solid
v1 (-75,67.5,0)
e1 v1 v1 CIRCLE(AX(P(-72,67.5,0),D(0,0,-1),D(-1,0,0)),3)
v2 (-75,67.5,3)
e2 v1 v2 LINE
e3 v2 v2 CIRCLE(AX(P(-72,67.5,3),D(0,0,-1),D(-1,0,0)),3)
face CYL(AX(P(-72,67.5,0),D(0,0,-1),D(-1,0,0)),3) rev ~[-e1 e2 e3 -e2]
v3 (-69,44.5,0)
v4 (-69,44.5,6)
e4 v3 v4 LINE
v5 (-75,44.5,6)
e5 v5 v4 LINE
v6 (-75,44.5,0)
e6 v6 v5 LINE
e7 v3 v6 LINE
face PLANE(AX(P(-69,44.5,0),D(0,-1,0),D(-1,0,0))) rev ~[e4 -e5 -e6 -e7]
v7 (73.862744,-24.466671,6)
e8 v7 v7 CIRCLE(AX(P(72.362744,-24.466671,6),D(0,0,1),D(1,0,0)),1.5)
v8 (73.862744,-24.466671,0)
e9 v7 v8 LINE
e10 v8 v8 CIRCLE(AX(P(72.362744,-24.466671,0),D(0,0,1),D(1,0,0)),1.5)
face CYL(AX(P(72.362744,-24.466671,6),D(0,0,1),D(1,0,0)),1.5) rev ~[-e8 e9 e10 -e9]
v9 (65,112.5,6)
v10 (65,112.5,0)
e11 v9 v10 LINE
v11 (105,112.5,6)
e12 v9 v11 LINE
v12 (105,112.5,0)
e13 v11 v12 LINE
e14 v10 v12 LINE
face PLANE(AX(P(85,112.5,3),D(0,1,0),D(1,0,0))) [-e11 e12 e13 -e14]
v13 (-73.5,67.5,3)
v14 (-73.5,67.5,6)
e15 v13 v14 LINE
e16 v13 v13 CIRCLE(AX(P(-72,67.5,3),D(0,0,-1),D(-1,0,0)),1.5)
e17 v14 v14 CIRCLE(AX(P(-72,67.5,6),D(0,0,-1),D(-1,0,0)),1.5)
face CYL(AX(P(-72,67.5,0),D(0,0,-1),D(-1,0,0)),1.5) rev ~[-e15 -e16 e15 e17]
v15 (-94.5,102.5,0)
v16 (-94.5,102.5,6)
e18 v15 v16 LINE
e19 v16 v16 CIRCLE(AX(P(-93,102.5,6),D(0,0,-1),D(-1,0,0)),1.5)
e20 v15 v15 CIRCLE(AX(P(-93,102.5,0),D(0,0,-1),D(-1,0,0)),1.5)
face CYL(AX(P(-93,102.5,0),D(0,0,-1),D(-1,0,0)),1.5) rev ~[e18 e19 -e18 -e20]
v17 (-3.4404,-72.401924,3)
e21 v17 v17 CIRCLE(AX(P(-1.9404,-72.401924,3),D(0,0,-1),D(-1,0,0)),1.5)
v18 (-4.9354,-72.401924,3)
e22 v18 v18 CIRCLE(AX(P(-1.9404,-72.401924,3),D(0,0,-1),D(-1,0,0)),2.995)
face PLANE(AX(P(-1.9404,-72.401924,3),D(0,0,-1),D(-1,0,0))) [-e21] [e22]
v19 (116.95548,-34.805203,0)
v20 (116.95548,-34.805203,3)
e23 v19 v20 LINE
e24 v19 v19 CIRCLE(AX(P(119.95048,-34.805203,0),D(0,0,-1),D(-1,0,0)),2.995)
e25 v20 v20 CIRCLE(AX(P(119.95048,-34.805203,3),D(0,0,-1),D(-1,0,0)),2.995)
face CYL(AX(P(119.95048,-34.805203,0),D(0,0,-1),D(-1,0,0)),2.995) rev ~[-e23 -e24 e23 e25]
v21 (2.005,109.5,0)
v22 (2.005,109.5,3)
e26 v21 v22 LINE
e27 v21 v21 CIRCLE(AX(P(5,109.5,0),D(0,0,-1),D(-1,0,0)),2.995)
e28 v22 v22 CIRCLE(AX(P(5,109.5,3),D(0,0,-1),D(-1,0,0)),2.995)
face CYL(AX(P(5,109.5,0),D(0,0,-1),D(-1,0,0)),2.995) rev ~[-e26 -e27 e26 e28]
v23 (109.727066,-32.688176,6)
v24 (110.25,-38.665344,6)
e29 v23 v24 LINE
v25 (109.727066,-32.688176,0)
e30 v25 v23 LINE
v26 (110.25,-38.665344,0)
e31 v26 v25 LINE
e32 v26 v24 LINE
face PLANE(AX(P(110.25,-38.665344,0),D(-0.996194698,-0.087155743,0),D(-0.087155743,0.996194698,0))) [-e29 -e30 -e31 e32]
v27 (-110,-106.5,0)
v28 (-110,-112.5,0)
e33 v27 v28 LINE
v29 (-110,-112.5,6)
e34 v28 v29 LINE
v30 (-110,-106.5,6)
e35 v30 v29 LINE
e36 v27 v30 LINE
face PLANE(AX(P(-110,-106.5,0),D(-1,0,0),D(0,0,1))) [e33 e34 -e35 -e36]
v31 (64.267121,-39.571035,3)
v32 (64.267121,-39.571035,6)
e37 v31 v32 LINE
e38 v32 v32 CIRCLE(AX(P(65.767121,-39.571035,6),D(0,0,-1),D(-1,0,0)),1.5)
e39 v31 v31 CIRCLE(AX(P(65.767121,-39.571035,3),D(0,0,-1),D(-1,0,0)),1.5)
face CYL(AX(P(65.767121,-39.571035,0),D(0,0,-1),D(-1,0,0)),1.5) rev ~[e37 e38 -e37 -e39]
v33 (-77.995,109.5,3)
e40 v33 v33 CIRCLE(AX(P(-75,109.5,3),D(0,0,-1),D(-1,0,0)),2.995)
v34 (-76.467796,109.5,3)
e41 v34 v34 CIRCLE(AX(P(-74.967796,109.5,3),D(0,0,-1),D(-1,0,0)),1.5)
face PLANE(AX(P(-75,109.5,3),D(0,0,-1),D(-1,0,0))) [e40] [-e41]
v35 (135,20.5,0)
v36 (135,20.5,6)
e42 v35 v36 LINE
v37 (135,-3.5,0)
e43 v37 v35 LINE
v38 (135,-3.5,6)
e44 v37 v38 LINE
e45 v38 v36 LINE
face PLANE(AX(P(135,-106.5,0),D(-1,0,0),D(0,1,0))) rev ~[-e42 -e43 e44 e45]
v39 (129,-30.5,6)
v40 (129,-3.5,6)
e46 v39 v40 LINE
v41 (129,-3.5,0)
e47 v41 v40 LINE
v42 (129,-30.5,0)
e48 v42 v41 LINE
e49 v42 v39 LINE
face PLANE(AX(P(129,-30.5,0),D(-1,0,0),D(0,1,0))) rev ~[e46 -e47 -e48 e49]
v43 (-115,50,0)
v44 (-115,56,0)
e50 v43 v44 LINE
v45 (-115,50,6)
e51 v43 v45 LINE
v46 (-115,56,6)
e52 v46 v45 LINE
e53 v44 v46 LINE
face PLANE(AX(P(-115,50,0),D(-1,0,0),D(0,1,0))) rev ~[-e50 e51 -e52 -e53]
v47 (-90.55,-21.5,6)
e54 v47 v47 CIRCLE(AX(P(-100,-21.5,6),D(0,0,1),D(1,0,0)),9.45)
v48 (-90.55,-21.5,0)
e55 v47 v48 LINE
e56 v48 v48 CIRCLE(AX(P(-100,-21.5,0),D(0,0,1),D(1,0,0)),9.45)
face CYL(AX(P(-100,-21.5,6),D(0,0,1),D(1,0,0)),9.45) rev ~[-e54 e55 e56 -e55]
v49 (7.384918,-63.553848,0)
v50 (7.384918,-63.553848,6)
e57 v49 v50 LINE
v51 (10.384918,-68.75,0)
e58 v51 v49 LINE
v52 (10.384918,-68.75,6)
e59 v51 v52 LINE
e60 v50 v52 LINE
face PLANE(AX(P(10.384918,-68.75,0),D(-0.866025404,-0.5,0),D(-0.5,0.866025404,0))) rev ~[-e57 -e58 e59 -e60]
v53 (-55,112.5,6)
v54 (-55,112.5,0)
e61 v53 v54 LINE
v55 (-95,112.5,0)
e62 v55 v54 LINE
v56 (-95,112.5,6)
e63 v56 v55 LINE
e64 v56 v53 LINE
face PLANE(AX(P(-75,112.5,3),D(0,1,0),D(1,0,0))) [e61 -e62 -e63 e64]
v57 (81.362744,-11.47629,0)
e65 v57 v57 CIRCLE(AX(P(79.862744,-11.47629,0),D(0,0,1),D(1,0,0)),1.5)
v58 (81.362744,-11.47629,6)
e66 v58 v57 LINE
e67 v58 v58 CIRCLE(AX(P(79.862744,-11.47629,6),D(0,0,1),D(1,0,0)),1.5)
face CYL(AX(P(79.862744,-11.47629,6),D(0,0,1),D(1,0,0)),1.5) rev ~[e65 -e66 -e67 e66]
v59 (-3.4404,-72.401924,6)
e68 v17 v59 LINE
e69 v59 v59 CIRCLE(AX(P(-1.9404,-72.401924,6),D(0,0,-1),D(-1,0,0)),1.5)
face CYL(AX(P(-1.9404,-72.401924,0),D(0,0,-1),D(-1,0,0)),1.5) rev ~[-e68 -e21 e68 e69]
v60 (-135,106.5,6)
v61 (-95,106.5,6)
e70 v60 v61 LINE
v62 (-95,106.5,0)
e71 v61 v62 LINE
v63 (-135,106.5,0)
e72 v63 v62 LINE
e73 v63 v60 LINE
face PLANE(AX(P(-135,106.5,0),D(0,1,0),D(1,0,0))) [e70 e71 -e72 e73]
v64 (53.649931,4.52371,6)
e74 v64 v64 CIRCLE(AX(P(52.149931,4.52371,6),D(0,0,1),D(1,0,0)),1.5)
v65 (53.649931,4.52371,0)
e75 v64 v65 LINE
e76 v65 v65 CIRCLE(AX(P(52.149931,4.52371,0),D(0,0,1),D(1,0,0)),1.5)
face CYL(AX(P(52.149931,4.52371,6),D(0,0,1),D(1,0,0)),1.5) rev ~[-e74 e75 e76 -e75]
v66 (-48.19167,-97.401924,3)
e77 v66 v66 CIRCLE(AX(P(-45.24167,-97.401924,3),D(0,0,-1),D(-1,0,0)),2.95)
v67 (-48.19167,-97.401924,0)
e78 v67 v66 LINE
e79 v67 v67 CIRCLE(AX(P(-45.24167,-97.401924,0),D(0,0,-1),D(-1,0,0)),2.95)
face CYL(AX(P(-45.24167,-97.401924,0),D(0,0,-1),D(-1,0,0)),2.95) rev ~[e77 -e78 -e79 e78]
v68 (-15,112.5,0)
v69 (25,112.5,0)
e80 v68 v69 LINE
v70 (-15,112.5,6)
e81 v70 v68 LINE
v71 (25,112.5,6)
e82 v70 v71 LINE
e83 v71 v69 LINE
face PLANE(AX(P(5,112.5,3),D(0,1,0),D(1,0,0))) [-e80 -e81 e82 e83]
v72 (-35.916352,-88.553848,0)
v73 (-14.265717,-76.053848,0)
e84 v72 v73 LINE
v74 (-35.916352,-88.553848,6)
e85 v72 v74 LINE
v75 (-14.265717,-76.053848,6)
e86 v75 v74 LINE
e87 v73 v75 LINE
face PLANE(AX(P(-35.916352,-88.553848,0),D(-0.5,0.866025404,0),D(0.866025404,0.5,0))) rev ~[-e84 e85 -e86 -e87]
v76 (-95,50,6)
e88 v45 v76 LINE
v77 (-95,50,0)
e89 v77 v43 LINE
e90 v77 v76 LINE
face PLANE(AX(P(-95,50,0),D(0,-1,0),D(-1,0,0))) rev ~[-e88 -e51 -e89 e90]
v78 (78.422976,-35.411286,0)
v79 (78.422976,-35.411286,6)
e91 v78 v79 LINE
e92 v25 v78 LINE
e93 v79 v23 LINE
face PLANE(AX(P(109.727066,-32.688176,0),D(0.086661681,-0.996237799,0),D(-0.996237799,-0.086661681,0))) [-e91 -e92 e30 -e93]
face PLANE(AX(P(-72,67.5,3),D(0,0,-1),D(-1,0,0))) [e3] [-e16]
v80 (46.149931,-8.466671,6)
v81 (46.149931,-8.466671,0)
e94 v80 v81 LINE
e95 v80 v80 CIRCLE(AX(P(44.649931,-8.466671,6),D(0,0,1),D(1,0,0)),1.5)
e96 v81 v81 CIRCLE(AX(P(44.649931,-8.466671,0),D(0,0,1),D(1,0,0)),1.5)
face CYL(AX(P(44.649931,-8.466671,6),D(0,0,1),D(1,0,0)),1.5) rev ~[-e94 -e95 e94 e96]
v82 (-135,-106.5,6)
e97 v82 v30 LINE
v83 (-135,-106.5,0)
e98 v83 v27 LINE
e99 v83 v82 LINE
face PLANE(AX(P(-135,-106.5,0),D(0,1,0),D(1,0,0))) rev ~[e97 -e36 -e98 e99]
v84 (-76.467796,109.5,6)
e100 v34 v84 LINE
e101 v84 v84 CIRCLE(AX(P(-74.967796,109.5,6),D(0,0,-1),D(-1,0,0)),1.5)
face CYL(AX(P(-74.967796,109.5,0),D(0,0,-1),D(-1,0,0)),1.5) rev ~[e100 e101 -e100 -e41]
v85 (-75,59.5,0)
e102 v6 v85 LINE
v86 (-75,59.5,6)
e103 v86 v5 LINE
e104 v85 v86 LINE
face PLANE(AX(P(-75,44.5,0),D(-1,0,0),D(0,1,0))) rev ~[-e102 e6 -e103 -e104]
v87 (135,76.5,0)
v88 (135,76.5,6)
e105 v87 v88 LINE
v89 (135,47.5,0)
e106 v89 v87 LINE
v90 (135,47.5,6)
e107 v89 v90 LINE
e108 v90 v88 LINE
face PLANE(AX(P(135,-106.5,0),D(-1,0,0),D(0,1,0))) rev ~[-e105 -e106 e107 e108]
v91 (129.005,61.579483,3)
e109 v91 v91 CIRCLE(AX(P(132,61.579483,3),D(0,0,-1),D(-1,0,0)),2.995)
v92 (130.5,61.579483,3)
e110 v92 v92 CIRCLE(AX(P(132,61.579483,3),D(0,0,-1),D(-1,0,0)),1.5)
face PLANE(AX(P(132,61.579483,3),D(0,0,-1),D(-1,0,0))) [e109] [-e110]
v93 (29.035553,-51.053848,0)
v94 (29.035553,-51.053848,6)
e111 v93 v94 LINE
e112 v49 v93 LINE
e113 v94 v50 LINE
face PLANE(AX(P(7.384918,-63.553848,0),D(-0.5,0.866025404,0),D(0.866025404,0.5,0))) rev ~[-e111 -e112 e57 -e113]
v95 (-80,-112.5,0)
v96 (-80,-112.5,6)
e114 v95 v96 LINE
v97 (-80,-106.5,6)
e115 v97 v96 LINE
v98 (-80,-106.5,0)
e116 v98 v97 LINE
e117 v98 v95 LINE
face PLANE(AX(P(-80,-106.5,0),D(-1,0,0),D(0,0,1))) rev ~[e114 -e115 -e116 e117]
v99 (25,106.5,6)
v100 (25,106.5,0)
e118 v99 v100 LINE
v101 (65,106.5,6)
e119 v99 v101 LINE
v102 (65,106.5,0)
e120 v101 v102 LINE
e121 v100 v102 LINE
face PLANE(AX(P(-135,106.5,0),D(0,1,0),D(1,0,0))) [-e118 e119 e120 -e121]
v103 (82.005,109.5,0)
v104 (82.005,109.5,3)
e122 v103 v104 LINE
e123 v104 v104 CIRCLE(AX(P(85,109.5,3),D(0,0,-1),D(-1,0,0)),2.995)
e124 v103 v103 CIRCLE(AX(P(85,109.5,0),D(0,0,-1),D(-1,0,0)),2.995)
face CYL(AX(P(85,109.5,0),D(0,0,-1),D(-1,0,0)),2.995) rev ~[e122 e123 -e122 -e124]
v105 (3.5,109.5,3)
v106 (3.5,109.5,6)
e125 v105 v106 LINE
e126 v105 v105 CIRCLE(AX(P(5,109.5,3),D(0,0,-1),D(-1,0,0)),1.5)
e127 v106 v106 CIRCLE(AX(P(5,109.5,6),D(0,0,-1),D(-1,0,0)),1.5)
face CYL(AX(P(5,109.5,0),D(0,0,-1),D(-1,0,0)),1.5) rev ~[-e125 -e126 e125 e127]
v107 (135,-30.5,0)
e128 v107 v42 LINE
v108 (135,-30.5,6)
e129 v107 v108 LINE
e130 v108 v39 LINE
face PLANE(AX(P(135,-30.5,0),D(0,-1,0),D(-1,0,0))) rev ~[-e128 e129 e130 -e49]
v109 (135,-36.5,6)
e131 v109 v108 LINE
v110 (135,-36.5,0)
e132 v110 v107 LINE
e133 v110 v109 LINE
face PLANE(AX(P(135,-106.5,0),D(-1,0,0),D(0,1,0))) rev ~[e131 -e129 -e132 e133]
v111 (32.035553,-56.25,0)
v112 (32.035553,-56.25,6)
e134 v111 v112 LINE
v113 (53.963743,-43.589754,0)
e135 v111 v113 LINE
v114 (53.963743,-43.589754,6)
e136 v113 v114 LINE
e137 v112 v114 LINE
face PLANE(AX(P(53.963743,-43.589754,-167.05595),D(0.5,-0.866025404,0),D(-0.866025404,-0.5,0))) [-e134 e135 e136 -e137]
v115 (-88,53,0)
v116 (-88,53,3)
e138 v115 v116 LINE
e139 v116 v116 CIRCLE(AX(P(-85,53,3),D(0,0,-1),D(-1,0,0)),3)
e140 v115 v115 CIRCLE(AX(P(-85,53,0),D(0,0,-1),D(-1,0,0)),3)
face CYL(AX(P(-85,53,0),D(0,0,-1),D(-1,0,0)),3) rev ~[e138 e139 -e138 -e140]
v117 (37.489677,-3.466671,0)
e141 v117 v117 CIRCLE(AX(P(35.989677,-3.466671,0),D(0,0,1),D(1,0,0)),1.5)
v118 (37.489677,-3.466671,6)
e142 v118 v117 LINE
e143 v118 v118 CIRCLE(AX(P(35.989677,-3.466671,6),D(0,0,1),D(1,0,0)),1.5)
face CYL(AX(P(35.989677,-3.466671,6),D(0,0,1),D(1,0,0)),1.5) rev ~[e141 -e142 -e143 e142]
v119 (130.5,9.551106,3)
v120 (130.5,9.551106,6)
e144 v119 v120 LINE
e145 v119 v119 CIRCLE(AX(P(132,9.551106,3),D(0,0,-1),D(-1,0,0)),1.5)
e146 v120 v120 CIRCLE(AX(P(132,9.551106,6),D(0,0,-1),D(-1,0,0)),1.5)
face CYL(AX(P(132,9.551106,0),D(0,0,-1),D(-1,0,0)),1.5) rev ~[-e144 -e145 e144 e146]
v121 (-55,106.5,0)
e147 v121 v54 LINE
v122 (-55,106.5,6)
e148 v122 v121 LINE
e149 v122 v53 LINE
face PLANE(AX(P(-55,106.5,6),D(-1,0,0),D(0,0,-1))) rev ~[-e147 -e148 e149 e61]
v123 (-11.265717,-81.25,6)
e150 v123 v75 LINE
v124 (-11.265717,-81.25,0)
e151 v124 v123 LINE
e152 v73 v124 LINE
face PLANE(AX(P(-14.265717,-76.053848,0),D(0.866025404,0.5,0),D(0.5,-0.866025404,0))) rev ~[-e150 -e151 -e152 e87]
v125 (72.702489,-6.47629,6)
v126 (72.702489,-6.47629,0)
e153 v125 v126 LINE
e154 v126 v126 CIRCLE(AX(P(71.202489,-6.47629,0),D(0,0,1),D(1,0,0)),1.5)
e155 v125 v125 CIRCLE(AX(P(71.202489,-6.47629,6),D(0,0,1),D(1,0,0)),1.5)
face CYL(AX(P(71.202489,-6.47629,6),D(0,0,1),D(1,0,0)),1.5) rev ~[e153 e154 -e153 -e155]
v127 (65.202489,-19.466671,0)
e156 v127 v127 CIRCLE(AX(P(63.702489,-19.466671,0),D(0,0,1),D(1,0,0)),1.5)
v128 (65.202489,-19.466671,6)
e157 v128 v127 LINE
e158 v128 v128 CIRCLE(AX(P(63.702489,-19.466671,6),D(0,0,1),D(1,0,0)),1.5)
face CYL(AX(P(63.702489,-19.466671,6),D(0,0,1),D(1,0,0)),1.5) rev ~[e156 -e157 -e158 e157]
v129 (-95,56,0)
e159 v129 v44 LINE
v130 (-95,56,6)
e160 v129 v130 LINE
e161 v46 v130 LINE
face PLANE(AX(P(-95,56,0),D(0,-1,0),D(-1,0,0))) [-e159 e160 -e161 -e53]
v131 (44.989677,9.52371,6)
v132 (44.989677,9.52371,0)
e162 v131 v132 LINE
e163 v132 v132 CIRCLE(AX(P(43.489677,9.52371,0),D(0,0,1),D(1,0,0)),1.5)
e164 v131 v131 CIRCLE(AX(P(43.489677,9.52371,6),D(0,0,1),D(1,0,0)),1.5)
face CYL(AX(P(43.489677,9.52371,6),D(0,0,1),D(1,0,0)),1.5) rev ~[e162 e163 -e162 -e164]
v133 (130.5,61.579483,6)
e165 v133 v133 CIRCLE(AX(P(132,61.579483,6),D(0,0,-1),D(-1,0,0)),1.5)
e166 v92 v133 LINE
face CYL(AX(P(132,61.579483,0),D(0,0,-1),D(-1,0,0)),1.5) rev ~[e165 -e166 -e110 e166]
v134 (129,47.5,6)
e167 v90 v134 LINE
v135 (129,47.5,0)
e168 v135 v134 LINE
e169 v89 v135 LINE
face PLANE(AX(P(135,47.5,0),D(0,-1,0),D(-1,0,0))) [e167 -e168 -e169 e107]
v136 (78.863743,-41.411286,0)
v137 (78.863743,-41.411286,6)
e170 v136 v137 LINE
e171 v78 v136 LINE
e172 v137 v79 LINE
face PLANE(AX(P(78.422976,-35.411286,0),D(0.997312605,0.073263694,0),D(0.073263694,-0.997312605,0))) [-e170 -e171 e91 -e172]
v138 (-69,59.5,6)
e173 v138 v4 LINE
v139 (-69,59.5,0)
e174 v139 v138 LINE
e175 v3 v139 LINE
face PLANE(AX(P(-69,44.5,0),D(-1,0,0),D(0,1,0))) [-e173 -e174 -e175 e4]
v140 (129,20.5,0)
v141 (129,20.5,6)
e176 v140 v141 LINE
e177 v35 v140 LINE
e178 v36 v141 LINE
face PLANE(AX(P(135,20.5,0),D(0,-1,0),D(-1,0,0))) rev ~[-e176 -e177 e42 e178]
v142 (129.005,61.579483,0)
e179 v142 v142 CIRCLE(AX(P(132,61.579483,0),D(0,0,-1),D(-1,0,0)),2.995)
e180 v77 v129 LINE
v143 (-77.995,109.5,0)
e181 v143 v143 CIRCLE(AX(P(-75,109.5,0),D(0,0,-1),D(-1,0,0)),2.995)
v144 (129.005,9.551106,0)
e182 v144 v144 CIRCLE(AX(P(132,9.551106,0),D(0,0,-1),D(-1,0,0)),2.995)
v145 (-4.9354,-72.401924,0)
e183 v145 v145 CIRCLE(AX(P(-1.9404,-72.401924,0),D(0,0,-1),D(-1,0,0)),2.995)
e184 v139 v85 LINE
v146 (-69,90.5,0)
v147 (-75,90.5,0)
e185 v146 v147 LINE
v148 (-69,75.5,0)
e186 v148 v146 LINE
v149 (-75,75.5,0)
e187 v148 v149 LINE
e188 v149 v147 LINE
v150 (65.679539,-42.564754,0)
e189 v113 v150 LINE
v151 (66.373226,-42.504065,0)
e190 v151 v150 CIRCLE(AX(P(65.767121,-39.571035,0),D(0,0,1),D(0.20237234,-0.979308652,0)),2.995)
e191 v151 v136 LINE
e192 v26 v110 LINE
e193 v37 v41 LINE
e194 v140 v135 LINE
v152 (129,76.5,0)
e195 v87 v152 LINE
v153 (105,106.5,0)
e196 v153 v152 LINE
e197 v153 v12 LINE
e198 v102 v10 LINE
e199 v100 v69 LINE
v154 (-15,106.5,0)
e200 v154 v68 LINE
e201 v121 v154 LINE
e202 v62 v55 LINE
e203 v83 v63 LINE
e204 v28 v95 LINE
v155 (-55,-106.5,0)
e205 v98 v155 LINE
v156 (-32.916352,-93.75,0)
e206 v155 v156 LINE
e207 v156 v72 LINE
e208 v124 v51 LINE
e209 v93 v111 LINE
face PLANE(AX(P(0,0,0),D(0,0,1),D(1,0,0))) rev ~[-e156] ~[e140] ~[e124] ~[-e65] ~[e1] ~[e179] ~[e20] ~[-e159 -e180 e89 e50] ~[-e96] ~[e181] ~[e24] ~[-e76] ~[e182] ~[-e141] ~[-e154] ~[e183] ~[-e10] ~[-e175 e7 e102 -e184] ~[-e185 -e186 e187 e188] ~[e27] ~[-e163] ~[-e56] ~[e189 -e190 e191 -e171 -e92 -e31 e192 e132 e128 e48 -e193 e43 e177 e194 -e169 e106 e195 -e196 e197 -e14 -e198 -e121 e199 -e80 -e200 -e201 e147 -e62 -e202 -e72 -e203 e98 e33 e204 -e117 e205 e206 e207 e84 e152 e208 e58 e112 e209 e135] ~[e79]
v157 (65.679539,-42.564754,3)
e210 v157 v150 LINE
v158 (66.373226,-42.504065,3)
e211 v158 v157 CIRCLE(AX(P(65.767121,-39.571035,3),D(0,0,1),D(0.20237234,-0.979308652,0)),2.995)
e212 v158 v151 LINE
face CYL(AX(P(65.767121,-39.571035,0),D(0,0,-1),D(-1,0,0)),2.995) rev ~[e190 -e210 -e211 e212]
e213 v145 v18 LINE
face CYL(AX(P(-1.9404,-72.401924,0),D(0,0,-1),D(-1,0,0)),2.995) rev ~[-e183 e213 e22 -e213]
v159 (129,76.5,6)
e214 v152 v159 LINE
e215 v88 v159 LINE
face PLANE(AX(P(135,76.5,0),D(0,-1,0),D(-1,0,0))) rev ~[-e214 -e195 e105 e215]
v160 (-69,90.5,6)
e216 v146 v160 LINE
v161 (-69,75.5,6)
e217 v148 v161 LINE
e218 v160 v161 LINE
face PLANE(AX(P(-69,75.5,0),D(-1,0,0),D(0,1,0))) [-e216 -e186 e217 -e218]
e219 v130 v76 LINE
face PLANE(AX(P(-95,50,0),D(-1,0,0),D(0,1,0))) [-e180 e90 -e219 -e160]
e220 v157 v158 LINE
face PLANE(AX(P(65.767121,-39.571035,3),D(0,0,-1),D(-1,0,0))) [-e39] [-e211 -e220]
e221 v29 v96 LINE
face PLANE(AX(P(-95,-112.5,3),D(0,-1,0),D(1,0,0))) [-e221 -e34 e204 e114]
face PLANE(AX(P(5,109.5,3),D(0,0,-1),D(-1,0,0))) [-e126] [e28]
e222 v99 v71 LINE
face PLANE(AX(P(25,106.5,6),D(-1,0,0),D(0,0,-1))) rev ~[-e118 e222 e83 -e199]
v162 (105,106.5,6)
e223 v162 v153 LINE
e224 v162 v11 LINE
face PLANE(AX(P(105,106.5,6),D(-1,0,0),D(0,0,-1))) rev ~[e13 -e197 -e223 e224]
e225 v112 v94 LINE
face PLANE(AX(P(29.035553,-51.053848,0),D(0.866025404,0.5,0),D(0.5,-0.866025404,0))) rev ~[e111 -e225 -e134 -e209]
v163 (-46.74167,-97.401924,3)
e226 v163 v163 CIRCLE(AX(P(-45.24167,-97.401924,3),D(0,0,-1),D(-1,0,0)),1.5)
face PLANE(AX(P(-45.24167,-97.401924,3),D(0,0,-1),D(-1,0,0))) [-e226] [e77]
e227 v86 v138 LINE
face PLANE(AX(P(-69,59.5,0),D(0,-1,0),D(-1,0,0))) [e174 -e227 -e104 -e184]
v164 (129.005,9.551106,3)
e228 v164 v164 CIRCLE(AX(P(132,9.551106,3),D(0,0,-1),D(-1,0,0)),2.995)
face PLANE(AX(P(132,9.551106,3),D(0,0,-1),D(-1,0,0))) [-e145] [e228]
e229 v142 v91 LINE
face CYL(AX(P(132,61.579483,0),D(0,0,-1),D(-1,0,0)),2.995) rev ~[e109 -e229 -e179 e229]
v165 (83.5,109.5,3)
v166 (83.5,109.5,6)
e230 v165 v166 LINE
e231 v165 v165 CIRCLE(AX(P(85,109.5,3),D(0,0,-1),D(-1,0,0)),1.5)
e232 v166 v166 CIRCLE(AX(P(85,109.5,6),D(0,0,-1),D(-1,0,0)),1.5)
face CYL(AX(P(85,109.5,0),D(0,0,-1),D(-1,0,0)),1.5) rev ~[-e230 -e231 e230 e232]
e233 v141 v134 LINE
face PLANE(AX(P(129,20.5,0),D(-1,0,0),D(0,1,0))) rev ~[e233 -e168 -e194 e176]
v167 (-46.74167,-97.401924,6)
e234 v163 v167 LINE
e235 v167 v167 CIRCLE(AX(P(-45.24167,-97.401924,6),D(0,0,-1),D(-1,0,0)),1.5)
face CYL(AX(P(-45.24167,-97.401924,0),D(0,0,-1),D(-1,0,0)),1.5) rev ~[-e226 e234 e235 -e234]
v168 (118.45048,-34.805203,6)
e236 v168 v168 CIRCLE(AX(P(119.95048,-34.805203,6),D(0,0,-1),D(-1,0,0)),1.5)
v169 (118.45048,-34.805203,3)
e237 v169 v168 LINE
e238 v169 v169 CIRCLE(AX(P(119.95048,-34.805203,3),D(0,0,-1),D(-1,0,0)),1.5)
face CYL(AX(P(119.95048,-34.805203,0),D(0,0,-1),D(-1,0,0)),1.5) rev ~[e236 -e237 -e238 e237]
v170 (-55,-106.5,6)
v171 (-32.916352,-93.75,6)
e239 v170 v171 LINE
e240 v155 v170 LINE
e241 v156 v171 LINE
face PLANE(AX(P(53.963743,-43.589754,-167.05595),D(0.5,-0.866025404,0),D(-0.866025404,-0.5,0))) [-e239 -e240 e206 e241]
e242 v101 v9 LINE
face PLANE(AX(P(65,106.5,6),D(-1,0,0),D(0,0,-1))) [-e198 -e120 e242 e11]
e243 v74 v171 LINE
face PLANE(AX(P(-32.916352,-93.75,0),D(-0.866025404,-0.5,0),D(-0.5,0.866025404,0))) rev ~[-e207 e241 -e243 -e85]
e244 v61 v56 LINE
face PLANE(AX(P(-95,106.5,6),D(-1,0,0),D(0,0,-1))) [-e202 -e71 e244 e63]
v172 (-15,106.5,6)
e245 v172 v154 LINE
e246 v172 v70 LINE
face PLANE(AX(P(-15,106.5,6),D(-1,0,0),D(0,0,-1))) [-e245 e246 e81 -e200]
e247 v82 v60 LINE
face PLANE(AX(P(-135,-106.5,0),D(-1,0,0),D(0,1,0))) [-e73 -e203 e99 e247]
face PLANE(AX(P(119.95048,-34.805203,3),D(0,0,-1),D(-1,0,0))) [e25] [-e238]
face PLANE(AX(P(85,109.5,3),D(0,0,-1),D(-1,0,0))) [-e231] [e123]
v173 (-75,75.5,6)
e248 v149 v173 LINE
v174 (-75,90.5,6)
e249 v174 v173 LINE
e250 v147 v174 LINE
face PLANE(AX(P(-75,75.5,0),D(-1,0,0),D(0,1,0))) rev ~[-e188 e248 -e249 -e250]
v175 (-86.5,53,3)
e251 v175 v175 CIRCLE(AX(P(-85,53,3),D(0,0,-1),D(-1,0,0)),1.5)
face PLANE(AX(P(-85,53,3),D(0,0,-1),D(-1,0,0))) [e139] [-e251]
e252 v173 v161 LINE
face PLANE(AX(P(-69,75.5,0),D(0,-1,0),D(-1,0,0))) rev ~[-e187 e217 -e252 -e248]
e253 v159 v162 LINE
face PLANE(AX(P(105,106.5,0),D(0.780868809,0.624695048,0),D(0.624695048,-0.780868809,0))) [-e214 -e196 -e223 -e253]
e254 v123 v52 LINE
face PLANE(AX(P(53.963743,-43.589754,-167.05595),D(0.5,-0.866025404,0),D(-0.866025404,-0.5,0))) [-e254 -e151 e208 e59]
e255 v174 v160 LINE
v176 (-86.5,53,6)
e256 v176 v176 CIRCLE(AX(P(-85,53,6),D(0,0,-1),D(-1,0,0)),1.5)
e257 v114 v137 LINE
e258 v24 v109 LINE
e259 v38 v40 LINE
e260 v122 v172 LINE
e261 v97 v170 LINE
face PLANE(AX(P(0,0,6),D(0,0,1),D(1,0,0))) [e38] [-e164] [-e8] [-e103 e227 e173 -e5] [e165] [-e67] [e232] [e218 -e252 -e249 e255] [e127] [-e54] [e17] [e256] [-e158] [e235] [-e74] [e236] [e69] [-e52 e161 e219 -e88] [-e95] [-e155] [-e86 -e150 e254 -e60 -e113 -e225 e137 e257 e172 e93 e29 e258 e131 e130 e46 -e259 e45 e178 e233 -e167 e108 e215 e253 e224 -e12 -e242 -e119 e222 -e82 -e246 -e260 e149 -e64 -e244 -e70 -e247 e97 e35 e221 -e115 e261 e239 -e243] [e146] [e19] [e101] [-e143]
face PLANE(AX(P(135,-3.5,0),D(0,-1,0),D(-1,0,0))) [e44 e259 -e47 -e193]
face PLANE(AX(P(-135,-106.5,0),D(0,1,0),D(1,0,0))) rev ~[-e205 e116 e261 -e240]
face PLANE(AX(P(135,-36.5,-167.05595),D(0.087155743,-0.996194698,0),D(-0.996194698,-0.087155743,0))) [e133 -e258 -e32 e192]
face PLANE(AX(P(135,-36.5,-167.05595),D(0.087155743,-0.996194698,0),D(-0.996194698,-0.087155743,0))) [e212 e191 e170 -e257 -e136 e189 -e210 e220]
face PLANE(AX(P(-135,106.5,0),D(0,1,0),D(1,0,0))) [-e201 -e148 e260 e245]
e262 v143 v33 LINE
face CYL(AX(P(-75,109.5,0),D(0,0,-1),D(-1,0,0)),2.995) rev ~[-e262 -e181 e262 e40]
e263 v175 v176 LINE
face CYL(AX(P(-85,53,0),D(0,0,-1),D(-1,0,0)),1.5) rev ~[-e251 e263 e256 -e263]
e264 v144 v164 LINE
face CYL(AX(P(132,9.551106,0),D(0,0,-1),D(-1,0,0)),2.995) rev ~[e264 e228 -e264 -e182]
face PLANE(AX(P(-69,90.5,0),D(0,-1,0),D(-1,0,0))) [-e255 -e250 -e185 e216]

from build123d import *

# Parameters (mm, degrees)
ESQUISSE1_W                   = 270
ESQUISSE1_H                   = 213
BOSS_EXTRU_1_DEPTH            = 6
ESQUISSE3_R                   = 9.45
ESQUISSE3_R_2                 = 1.5
ENL_V_MAT_EXTRU_1_DEPTH       = 10
ENL_V_MAT_EXTRU_11_DEPTH      = 173.055950202
ENL_V_MAT_EXTRU_11_DEPTH_BACK = 173.055950202
ESQUISSE6_W                   = 40
ESQUISSE6_H                   = 6
BOSS_EXTRU_2_DEPTH            = 6
ESQUISSE7_W                   = 6
ESQUISSE7_H                   = 30
ESQUISSE7_H_2                 = 27
ENL_V_MAT_EXTRU_12_DEPTH      = 6
ESQUISSE8_W                   = 30
ESQUISSE8_H                   = 6
BOSS_EXTRU_3_DEPTH            = 6
ENL_V_MAT_EXTRU_13_DEPTH      = 176.833017377
ENL_V_MAT_EXTRU_14_DEPTH      = 10
ESQUISSE11_W                  = 6
ESQUISSE11_H                  = 15
ENL_V_MAT_EXTRU_15_DEPTH      = 176.833017377
ENL_V_MAT_EXTRU_17_DEPTH      = 176.833017377
ESQUISSE15_R                  = 2.995
ESQUISSE15_R_2                = 2.95
ESQUISSE15_R_3                = 3
ENL_V_MAT_EXTRU_19_DEPTH      = 3
ESQUISSE16_R                  = 1.5
ENL_V_MAT_EXTRU_20_DEPTH      = 10
ESQUISSE17_W                  = 20
ESQUISSE17_H                  = 6
ENL_V_MAT_EXTRU_22_DEPTH      = 10


with BuildPart() as part:
    # Esquisse1 → Boss.-Extru.1 (new body)
    with BuildSketch(Plane.XY):
        Rectangle(ESQUISSE1_W, ESQUISSE1_H)
    extrude(amount=BOSS_EXTRU_1_DEPTH)

    # Esquisse3 → Enlèv. mat.-Extru.1 (cut)
    with BuildSketch(Plane.XY.offset(6)):
        with Locations((-100, -21.5)):
            Circle(ESQUISSE3_R)
        with Locations((43.489676576, 9.523710062)):
            Circle(ESQUISSE3_R_2)
        with Locations((52.149930614, 4.523710062)):
            Circle(ESQUISSE3_R_2)
        with Locations((35.989676576, -3.466670994)):
            Circle(ESQUISSE3_R_2)
        with Locations((44.649930614, -8.466670994)):
            Circle(ESQUISSE3_R_2)
        with Locations((63.702489497, -19.466670994)):
            Circle(ESQUISSE3_R_2)
        with Locations((72.362743535, -24.466670994)):
            Circle(ESQUISSE3_R_2)
        with Locations((79.862743535, -11.476289938)):
            Circle(ESQUISSE3_R_2)
        with Locations((71.202489497, -6.476289938)):
            Circle(ESQUISSE3_R_2)
    extrude(amount=-ENL_V_MAT_EXTRU_1_DEPTH, mode=Mode.SUBTRACT)

    # Esquisse5 → Enlèv. mat.-Extru.11 (cut, two sides: drawn at the far end of the back side and taken through both)
    with BuildSketch(Plane.XY.offset(6).offset(-ENL_V_MAT_EXTRU_11_DEPTH_BACK)):
        Polygon((135, -36.5), (53.963742643, -43.589753853), (-55, -106.5), (135, -106.5), align=None)
    extrude(amount=ENL_V_MAT_EXTRU_11_DEPTH + ENL_V_MAT_EXTRU_11_DEPTH_BACK, mode=Mode.SUBTRACT)

    # Esquisse6 → Boss.-Extru.2 (add)
    with BuildSketch(Plane(origin=(0, 106.5, 0), x_dir=(1, 0, 0), z_dir=(0, 1, 0))):
        with Locations((-75, -3)):
            Rectangle(ESQUISSE6_W, ESQUISSE6_H)
        with Locations((5, -3)):
            Rectangle(ESQUISSE6_W, ESQUISSE6_H)
        with Locations((85, -3)):
            Rectangle(ESQUISSE6_W, ESQUISSE6_H)
    extrude(amount=BOSS_EXTRU_2_DEPTH)

    # Esquisse7 → Enlèv. mat.-Extru.12 (cut)
    with BuildSketch(Plane(origin=(0, 0, 0), x_dir=(-1, 0, 0), z_dir=(0, 0, -1))):
        with Locations((-132, 91.5)):
            Rectangle(ESQUISSE7_W, ESQUISSE7_H)
        with Locations((-132, 34)):
            Rectangle(ESQUISSE7_W, ESQUISSE7_H_2)
        with Locations((-132, -17)):
            Rectangle(ESQUISSE7_W, ESQUISSE7_H_2)
    extrude(amount=-ENL_V_MAT_EXTRU_12_DEPTH, mode=Mode.SUBTRACT)

    # Esquisse8 → Boss.-Extru.3 (add)
    with BuildSketch(Plane.XZ.offset(106.5)):
        with Locations((-95, 3)):
            Rectangle(ESQUISSE8_W, ESQUISSE8_H)
    extrude(amount=BOSS_EXTRU_3_DEPTH)

    # Esquisse9 → Enlèv. mat.-Extru.13 (cut, through all)
    with BuildSketch(Plane(origin=(0, 0, 0), x_dir=(-1, 0, 0), z_dir=(0, 0, -1))):
        Polygon((-110.25, -38.665344422), (-109.727065544, -32.688176234), (-78.422975963, -35.411286132), (-78.863742643, -41.411286132), align=None)
    extrude(amount=-ENL_V_MAT_EXTRU_13_DEPTH, mode=Mode.SUBTRACT)

    # Esquisse10 → Enlèv. mat.-Extru.14 (cut)
    with BuildSketch(Plane(origin=(0, 0, 0), x_dir=(-1, 0, 0), z_dir=(0, 0, -1))):
        Polygon((-32.03555308, -56.25), (-10.384917986, -68.75), (-7.384917986, -63.553847577), (-29.03555308, -51.053847577), align=None)
        Polygon((11.265717109, -81.25), (32.916352203, -93.75), (35.916352203, -88.553847577), (14.265717109, -76.053847577), align=None)
    extrude(amount=-ENL_V_MAT_EXTRU_14_DEPTH, mode=Mode.SUBTRACT)

    # Esquisse11 → Enlèv. mat.-Extru.15 (cut, through all)
    with BuildSketch(Plane(origin=(0, 0, 0), x_dir=(-1, 0, 0), z_dir=(0, 0, -1))):
        with Locations((72, 52)):
            Rectangle(ESQUISSE11_W, ESQUISSE11_H)
        with Locations((72, 83)):
            Rectangle(ESQUISSE11_W, ESQUISSE11_H)
    extrude(amount=-ENL_V_MAT_EXTRU_15_DEPTH, mode=Mode.SUBTRACT)

    # Esquisse13 → Enlèv. mat.-Extru.17 (cut, through all)
    with BuildSketch(Plane(origin=(0, 0, 0), x_dir=(-1, 0, 0), z_dir=(0, 0, -1))):
        Polygon((-129, 76.5), (-129, 106.5), (-105, 106.5), align=None)
    extrude(amount=-ENL_V_MAT_EXTRU_17_DEPTH, mode=Mode.SUBTRACT)

    # Esquisse15 → Enlèv. mat.-Extru.19 (cut)
    with BuildSketch(Plane(origin=(0, 0, 0), x_dir=(-1, 0, 0), z_dir=(0, 0, -1))):
        with Locations((-85, 109.5)):
            Circle(ESQUISSE15_R)
        with Locations((-5, 109.5)):
            Circle(ESQUISSE15_R)
        with Locations((75, 109.5)):
            Circle(ESQUISSE15_R)
        with Locations((1.940399562, -72.401923789)):
            Circle(ESQUISSE15_R)
        with Locations((-65.76712105, -39.571035308)):
            Circle(ESQUISSE15_R)
        with Locations((45.241669751, -97.401923789)):
            Circle(ESQUISSE15_R_2)
        with Locations((-132, 9.551106058)):
            Circle(ESQUISSE15_R)
        with Locations((-132, 61.579483335)):
            Circle(ESQUISSE15_R)
        with Locations((-119.950479753, -34.805202901)):
            Circle(ESQUISSE15_R)
        with Locations((72, 67.5)):
            Circle(ESQUISSE15_R_3)
        with Locations((85, 53)):
            Circle(ESQUISSE15_R_3)
    extrude(amount=-ENL_V_MAT_EXTRU_19_DEPTH, mode=Mode.SUBTRACT)

    # Esquisse16 → Enlèv. mat.-Extru.20 (cut)
    with BuildSketch(Plane(origin=(0, 0, 0), x_dir=(-1, 0, 0), z_dir=(0, 0, -1))):
        with Locations((-5, 109.5)):
            Circle(ESQUISSE16_R)
        with Locations((74.967795866, 109.5)):
            Circle(ESQUISSE16_R)
        with Locations((-85, 109.5)):
            Circle(ESQUISSE16_R)
        with Locations((-132, 61.579483335)):
            Circle(ESQUISSE16_R)
        with Locations((-132, 9.551106058)):
            Circle(ESQUISSE16_R)
        with Locations((-119.950479753, -34.805202901)):
            Circle(ESQUISSE16_R)
        with Locations((-65.76712105, -39.571035308)):
            Circle(ESQUISSE16_R)
        with Locations((1.940399562, -72.401923789)):
            Circle(ESQUISSE16_R)
        with Locations((45.241669751, -97.401923789)):
            Circle(ESQUISSE16_R)
        with Locations((72, 67.5)):
            Circle(ESQUISSE16_R)
        with Locations((85, 53)):
            Circle(ESQUISSE16_R)
        with Locations((93, 102.5)):
            Circle(ESQUISSE16_R)
    extrude(amount=-ENL_V_MAT_EXTRU_20_DEPTH, mode=Mode.SUBTRACT)

    # Esquisse17 → Enlèv. mat.-Extru.22 (cut)
    with BuildSketch(Plane(origin=(0, 0, 0), x_dir=(-1, 0, 0), z_dir=(0, 0, -1))):
        with Locations((105, 53)):
            Rectangle(ESQUISSE17_W, ESQUISSE17_H)
    extrude(amount=-ENL_V_MAT_EXTRU_22_DEPTH, mode=Mode.SUBTRACT)


solid = part.part
